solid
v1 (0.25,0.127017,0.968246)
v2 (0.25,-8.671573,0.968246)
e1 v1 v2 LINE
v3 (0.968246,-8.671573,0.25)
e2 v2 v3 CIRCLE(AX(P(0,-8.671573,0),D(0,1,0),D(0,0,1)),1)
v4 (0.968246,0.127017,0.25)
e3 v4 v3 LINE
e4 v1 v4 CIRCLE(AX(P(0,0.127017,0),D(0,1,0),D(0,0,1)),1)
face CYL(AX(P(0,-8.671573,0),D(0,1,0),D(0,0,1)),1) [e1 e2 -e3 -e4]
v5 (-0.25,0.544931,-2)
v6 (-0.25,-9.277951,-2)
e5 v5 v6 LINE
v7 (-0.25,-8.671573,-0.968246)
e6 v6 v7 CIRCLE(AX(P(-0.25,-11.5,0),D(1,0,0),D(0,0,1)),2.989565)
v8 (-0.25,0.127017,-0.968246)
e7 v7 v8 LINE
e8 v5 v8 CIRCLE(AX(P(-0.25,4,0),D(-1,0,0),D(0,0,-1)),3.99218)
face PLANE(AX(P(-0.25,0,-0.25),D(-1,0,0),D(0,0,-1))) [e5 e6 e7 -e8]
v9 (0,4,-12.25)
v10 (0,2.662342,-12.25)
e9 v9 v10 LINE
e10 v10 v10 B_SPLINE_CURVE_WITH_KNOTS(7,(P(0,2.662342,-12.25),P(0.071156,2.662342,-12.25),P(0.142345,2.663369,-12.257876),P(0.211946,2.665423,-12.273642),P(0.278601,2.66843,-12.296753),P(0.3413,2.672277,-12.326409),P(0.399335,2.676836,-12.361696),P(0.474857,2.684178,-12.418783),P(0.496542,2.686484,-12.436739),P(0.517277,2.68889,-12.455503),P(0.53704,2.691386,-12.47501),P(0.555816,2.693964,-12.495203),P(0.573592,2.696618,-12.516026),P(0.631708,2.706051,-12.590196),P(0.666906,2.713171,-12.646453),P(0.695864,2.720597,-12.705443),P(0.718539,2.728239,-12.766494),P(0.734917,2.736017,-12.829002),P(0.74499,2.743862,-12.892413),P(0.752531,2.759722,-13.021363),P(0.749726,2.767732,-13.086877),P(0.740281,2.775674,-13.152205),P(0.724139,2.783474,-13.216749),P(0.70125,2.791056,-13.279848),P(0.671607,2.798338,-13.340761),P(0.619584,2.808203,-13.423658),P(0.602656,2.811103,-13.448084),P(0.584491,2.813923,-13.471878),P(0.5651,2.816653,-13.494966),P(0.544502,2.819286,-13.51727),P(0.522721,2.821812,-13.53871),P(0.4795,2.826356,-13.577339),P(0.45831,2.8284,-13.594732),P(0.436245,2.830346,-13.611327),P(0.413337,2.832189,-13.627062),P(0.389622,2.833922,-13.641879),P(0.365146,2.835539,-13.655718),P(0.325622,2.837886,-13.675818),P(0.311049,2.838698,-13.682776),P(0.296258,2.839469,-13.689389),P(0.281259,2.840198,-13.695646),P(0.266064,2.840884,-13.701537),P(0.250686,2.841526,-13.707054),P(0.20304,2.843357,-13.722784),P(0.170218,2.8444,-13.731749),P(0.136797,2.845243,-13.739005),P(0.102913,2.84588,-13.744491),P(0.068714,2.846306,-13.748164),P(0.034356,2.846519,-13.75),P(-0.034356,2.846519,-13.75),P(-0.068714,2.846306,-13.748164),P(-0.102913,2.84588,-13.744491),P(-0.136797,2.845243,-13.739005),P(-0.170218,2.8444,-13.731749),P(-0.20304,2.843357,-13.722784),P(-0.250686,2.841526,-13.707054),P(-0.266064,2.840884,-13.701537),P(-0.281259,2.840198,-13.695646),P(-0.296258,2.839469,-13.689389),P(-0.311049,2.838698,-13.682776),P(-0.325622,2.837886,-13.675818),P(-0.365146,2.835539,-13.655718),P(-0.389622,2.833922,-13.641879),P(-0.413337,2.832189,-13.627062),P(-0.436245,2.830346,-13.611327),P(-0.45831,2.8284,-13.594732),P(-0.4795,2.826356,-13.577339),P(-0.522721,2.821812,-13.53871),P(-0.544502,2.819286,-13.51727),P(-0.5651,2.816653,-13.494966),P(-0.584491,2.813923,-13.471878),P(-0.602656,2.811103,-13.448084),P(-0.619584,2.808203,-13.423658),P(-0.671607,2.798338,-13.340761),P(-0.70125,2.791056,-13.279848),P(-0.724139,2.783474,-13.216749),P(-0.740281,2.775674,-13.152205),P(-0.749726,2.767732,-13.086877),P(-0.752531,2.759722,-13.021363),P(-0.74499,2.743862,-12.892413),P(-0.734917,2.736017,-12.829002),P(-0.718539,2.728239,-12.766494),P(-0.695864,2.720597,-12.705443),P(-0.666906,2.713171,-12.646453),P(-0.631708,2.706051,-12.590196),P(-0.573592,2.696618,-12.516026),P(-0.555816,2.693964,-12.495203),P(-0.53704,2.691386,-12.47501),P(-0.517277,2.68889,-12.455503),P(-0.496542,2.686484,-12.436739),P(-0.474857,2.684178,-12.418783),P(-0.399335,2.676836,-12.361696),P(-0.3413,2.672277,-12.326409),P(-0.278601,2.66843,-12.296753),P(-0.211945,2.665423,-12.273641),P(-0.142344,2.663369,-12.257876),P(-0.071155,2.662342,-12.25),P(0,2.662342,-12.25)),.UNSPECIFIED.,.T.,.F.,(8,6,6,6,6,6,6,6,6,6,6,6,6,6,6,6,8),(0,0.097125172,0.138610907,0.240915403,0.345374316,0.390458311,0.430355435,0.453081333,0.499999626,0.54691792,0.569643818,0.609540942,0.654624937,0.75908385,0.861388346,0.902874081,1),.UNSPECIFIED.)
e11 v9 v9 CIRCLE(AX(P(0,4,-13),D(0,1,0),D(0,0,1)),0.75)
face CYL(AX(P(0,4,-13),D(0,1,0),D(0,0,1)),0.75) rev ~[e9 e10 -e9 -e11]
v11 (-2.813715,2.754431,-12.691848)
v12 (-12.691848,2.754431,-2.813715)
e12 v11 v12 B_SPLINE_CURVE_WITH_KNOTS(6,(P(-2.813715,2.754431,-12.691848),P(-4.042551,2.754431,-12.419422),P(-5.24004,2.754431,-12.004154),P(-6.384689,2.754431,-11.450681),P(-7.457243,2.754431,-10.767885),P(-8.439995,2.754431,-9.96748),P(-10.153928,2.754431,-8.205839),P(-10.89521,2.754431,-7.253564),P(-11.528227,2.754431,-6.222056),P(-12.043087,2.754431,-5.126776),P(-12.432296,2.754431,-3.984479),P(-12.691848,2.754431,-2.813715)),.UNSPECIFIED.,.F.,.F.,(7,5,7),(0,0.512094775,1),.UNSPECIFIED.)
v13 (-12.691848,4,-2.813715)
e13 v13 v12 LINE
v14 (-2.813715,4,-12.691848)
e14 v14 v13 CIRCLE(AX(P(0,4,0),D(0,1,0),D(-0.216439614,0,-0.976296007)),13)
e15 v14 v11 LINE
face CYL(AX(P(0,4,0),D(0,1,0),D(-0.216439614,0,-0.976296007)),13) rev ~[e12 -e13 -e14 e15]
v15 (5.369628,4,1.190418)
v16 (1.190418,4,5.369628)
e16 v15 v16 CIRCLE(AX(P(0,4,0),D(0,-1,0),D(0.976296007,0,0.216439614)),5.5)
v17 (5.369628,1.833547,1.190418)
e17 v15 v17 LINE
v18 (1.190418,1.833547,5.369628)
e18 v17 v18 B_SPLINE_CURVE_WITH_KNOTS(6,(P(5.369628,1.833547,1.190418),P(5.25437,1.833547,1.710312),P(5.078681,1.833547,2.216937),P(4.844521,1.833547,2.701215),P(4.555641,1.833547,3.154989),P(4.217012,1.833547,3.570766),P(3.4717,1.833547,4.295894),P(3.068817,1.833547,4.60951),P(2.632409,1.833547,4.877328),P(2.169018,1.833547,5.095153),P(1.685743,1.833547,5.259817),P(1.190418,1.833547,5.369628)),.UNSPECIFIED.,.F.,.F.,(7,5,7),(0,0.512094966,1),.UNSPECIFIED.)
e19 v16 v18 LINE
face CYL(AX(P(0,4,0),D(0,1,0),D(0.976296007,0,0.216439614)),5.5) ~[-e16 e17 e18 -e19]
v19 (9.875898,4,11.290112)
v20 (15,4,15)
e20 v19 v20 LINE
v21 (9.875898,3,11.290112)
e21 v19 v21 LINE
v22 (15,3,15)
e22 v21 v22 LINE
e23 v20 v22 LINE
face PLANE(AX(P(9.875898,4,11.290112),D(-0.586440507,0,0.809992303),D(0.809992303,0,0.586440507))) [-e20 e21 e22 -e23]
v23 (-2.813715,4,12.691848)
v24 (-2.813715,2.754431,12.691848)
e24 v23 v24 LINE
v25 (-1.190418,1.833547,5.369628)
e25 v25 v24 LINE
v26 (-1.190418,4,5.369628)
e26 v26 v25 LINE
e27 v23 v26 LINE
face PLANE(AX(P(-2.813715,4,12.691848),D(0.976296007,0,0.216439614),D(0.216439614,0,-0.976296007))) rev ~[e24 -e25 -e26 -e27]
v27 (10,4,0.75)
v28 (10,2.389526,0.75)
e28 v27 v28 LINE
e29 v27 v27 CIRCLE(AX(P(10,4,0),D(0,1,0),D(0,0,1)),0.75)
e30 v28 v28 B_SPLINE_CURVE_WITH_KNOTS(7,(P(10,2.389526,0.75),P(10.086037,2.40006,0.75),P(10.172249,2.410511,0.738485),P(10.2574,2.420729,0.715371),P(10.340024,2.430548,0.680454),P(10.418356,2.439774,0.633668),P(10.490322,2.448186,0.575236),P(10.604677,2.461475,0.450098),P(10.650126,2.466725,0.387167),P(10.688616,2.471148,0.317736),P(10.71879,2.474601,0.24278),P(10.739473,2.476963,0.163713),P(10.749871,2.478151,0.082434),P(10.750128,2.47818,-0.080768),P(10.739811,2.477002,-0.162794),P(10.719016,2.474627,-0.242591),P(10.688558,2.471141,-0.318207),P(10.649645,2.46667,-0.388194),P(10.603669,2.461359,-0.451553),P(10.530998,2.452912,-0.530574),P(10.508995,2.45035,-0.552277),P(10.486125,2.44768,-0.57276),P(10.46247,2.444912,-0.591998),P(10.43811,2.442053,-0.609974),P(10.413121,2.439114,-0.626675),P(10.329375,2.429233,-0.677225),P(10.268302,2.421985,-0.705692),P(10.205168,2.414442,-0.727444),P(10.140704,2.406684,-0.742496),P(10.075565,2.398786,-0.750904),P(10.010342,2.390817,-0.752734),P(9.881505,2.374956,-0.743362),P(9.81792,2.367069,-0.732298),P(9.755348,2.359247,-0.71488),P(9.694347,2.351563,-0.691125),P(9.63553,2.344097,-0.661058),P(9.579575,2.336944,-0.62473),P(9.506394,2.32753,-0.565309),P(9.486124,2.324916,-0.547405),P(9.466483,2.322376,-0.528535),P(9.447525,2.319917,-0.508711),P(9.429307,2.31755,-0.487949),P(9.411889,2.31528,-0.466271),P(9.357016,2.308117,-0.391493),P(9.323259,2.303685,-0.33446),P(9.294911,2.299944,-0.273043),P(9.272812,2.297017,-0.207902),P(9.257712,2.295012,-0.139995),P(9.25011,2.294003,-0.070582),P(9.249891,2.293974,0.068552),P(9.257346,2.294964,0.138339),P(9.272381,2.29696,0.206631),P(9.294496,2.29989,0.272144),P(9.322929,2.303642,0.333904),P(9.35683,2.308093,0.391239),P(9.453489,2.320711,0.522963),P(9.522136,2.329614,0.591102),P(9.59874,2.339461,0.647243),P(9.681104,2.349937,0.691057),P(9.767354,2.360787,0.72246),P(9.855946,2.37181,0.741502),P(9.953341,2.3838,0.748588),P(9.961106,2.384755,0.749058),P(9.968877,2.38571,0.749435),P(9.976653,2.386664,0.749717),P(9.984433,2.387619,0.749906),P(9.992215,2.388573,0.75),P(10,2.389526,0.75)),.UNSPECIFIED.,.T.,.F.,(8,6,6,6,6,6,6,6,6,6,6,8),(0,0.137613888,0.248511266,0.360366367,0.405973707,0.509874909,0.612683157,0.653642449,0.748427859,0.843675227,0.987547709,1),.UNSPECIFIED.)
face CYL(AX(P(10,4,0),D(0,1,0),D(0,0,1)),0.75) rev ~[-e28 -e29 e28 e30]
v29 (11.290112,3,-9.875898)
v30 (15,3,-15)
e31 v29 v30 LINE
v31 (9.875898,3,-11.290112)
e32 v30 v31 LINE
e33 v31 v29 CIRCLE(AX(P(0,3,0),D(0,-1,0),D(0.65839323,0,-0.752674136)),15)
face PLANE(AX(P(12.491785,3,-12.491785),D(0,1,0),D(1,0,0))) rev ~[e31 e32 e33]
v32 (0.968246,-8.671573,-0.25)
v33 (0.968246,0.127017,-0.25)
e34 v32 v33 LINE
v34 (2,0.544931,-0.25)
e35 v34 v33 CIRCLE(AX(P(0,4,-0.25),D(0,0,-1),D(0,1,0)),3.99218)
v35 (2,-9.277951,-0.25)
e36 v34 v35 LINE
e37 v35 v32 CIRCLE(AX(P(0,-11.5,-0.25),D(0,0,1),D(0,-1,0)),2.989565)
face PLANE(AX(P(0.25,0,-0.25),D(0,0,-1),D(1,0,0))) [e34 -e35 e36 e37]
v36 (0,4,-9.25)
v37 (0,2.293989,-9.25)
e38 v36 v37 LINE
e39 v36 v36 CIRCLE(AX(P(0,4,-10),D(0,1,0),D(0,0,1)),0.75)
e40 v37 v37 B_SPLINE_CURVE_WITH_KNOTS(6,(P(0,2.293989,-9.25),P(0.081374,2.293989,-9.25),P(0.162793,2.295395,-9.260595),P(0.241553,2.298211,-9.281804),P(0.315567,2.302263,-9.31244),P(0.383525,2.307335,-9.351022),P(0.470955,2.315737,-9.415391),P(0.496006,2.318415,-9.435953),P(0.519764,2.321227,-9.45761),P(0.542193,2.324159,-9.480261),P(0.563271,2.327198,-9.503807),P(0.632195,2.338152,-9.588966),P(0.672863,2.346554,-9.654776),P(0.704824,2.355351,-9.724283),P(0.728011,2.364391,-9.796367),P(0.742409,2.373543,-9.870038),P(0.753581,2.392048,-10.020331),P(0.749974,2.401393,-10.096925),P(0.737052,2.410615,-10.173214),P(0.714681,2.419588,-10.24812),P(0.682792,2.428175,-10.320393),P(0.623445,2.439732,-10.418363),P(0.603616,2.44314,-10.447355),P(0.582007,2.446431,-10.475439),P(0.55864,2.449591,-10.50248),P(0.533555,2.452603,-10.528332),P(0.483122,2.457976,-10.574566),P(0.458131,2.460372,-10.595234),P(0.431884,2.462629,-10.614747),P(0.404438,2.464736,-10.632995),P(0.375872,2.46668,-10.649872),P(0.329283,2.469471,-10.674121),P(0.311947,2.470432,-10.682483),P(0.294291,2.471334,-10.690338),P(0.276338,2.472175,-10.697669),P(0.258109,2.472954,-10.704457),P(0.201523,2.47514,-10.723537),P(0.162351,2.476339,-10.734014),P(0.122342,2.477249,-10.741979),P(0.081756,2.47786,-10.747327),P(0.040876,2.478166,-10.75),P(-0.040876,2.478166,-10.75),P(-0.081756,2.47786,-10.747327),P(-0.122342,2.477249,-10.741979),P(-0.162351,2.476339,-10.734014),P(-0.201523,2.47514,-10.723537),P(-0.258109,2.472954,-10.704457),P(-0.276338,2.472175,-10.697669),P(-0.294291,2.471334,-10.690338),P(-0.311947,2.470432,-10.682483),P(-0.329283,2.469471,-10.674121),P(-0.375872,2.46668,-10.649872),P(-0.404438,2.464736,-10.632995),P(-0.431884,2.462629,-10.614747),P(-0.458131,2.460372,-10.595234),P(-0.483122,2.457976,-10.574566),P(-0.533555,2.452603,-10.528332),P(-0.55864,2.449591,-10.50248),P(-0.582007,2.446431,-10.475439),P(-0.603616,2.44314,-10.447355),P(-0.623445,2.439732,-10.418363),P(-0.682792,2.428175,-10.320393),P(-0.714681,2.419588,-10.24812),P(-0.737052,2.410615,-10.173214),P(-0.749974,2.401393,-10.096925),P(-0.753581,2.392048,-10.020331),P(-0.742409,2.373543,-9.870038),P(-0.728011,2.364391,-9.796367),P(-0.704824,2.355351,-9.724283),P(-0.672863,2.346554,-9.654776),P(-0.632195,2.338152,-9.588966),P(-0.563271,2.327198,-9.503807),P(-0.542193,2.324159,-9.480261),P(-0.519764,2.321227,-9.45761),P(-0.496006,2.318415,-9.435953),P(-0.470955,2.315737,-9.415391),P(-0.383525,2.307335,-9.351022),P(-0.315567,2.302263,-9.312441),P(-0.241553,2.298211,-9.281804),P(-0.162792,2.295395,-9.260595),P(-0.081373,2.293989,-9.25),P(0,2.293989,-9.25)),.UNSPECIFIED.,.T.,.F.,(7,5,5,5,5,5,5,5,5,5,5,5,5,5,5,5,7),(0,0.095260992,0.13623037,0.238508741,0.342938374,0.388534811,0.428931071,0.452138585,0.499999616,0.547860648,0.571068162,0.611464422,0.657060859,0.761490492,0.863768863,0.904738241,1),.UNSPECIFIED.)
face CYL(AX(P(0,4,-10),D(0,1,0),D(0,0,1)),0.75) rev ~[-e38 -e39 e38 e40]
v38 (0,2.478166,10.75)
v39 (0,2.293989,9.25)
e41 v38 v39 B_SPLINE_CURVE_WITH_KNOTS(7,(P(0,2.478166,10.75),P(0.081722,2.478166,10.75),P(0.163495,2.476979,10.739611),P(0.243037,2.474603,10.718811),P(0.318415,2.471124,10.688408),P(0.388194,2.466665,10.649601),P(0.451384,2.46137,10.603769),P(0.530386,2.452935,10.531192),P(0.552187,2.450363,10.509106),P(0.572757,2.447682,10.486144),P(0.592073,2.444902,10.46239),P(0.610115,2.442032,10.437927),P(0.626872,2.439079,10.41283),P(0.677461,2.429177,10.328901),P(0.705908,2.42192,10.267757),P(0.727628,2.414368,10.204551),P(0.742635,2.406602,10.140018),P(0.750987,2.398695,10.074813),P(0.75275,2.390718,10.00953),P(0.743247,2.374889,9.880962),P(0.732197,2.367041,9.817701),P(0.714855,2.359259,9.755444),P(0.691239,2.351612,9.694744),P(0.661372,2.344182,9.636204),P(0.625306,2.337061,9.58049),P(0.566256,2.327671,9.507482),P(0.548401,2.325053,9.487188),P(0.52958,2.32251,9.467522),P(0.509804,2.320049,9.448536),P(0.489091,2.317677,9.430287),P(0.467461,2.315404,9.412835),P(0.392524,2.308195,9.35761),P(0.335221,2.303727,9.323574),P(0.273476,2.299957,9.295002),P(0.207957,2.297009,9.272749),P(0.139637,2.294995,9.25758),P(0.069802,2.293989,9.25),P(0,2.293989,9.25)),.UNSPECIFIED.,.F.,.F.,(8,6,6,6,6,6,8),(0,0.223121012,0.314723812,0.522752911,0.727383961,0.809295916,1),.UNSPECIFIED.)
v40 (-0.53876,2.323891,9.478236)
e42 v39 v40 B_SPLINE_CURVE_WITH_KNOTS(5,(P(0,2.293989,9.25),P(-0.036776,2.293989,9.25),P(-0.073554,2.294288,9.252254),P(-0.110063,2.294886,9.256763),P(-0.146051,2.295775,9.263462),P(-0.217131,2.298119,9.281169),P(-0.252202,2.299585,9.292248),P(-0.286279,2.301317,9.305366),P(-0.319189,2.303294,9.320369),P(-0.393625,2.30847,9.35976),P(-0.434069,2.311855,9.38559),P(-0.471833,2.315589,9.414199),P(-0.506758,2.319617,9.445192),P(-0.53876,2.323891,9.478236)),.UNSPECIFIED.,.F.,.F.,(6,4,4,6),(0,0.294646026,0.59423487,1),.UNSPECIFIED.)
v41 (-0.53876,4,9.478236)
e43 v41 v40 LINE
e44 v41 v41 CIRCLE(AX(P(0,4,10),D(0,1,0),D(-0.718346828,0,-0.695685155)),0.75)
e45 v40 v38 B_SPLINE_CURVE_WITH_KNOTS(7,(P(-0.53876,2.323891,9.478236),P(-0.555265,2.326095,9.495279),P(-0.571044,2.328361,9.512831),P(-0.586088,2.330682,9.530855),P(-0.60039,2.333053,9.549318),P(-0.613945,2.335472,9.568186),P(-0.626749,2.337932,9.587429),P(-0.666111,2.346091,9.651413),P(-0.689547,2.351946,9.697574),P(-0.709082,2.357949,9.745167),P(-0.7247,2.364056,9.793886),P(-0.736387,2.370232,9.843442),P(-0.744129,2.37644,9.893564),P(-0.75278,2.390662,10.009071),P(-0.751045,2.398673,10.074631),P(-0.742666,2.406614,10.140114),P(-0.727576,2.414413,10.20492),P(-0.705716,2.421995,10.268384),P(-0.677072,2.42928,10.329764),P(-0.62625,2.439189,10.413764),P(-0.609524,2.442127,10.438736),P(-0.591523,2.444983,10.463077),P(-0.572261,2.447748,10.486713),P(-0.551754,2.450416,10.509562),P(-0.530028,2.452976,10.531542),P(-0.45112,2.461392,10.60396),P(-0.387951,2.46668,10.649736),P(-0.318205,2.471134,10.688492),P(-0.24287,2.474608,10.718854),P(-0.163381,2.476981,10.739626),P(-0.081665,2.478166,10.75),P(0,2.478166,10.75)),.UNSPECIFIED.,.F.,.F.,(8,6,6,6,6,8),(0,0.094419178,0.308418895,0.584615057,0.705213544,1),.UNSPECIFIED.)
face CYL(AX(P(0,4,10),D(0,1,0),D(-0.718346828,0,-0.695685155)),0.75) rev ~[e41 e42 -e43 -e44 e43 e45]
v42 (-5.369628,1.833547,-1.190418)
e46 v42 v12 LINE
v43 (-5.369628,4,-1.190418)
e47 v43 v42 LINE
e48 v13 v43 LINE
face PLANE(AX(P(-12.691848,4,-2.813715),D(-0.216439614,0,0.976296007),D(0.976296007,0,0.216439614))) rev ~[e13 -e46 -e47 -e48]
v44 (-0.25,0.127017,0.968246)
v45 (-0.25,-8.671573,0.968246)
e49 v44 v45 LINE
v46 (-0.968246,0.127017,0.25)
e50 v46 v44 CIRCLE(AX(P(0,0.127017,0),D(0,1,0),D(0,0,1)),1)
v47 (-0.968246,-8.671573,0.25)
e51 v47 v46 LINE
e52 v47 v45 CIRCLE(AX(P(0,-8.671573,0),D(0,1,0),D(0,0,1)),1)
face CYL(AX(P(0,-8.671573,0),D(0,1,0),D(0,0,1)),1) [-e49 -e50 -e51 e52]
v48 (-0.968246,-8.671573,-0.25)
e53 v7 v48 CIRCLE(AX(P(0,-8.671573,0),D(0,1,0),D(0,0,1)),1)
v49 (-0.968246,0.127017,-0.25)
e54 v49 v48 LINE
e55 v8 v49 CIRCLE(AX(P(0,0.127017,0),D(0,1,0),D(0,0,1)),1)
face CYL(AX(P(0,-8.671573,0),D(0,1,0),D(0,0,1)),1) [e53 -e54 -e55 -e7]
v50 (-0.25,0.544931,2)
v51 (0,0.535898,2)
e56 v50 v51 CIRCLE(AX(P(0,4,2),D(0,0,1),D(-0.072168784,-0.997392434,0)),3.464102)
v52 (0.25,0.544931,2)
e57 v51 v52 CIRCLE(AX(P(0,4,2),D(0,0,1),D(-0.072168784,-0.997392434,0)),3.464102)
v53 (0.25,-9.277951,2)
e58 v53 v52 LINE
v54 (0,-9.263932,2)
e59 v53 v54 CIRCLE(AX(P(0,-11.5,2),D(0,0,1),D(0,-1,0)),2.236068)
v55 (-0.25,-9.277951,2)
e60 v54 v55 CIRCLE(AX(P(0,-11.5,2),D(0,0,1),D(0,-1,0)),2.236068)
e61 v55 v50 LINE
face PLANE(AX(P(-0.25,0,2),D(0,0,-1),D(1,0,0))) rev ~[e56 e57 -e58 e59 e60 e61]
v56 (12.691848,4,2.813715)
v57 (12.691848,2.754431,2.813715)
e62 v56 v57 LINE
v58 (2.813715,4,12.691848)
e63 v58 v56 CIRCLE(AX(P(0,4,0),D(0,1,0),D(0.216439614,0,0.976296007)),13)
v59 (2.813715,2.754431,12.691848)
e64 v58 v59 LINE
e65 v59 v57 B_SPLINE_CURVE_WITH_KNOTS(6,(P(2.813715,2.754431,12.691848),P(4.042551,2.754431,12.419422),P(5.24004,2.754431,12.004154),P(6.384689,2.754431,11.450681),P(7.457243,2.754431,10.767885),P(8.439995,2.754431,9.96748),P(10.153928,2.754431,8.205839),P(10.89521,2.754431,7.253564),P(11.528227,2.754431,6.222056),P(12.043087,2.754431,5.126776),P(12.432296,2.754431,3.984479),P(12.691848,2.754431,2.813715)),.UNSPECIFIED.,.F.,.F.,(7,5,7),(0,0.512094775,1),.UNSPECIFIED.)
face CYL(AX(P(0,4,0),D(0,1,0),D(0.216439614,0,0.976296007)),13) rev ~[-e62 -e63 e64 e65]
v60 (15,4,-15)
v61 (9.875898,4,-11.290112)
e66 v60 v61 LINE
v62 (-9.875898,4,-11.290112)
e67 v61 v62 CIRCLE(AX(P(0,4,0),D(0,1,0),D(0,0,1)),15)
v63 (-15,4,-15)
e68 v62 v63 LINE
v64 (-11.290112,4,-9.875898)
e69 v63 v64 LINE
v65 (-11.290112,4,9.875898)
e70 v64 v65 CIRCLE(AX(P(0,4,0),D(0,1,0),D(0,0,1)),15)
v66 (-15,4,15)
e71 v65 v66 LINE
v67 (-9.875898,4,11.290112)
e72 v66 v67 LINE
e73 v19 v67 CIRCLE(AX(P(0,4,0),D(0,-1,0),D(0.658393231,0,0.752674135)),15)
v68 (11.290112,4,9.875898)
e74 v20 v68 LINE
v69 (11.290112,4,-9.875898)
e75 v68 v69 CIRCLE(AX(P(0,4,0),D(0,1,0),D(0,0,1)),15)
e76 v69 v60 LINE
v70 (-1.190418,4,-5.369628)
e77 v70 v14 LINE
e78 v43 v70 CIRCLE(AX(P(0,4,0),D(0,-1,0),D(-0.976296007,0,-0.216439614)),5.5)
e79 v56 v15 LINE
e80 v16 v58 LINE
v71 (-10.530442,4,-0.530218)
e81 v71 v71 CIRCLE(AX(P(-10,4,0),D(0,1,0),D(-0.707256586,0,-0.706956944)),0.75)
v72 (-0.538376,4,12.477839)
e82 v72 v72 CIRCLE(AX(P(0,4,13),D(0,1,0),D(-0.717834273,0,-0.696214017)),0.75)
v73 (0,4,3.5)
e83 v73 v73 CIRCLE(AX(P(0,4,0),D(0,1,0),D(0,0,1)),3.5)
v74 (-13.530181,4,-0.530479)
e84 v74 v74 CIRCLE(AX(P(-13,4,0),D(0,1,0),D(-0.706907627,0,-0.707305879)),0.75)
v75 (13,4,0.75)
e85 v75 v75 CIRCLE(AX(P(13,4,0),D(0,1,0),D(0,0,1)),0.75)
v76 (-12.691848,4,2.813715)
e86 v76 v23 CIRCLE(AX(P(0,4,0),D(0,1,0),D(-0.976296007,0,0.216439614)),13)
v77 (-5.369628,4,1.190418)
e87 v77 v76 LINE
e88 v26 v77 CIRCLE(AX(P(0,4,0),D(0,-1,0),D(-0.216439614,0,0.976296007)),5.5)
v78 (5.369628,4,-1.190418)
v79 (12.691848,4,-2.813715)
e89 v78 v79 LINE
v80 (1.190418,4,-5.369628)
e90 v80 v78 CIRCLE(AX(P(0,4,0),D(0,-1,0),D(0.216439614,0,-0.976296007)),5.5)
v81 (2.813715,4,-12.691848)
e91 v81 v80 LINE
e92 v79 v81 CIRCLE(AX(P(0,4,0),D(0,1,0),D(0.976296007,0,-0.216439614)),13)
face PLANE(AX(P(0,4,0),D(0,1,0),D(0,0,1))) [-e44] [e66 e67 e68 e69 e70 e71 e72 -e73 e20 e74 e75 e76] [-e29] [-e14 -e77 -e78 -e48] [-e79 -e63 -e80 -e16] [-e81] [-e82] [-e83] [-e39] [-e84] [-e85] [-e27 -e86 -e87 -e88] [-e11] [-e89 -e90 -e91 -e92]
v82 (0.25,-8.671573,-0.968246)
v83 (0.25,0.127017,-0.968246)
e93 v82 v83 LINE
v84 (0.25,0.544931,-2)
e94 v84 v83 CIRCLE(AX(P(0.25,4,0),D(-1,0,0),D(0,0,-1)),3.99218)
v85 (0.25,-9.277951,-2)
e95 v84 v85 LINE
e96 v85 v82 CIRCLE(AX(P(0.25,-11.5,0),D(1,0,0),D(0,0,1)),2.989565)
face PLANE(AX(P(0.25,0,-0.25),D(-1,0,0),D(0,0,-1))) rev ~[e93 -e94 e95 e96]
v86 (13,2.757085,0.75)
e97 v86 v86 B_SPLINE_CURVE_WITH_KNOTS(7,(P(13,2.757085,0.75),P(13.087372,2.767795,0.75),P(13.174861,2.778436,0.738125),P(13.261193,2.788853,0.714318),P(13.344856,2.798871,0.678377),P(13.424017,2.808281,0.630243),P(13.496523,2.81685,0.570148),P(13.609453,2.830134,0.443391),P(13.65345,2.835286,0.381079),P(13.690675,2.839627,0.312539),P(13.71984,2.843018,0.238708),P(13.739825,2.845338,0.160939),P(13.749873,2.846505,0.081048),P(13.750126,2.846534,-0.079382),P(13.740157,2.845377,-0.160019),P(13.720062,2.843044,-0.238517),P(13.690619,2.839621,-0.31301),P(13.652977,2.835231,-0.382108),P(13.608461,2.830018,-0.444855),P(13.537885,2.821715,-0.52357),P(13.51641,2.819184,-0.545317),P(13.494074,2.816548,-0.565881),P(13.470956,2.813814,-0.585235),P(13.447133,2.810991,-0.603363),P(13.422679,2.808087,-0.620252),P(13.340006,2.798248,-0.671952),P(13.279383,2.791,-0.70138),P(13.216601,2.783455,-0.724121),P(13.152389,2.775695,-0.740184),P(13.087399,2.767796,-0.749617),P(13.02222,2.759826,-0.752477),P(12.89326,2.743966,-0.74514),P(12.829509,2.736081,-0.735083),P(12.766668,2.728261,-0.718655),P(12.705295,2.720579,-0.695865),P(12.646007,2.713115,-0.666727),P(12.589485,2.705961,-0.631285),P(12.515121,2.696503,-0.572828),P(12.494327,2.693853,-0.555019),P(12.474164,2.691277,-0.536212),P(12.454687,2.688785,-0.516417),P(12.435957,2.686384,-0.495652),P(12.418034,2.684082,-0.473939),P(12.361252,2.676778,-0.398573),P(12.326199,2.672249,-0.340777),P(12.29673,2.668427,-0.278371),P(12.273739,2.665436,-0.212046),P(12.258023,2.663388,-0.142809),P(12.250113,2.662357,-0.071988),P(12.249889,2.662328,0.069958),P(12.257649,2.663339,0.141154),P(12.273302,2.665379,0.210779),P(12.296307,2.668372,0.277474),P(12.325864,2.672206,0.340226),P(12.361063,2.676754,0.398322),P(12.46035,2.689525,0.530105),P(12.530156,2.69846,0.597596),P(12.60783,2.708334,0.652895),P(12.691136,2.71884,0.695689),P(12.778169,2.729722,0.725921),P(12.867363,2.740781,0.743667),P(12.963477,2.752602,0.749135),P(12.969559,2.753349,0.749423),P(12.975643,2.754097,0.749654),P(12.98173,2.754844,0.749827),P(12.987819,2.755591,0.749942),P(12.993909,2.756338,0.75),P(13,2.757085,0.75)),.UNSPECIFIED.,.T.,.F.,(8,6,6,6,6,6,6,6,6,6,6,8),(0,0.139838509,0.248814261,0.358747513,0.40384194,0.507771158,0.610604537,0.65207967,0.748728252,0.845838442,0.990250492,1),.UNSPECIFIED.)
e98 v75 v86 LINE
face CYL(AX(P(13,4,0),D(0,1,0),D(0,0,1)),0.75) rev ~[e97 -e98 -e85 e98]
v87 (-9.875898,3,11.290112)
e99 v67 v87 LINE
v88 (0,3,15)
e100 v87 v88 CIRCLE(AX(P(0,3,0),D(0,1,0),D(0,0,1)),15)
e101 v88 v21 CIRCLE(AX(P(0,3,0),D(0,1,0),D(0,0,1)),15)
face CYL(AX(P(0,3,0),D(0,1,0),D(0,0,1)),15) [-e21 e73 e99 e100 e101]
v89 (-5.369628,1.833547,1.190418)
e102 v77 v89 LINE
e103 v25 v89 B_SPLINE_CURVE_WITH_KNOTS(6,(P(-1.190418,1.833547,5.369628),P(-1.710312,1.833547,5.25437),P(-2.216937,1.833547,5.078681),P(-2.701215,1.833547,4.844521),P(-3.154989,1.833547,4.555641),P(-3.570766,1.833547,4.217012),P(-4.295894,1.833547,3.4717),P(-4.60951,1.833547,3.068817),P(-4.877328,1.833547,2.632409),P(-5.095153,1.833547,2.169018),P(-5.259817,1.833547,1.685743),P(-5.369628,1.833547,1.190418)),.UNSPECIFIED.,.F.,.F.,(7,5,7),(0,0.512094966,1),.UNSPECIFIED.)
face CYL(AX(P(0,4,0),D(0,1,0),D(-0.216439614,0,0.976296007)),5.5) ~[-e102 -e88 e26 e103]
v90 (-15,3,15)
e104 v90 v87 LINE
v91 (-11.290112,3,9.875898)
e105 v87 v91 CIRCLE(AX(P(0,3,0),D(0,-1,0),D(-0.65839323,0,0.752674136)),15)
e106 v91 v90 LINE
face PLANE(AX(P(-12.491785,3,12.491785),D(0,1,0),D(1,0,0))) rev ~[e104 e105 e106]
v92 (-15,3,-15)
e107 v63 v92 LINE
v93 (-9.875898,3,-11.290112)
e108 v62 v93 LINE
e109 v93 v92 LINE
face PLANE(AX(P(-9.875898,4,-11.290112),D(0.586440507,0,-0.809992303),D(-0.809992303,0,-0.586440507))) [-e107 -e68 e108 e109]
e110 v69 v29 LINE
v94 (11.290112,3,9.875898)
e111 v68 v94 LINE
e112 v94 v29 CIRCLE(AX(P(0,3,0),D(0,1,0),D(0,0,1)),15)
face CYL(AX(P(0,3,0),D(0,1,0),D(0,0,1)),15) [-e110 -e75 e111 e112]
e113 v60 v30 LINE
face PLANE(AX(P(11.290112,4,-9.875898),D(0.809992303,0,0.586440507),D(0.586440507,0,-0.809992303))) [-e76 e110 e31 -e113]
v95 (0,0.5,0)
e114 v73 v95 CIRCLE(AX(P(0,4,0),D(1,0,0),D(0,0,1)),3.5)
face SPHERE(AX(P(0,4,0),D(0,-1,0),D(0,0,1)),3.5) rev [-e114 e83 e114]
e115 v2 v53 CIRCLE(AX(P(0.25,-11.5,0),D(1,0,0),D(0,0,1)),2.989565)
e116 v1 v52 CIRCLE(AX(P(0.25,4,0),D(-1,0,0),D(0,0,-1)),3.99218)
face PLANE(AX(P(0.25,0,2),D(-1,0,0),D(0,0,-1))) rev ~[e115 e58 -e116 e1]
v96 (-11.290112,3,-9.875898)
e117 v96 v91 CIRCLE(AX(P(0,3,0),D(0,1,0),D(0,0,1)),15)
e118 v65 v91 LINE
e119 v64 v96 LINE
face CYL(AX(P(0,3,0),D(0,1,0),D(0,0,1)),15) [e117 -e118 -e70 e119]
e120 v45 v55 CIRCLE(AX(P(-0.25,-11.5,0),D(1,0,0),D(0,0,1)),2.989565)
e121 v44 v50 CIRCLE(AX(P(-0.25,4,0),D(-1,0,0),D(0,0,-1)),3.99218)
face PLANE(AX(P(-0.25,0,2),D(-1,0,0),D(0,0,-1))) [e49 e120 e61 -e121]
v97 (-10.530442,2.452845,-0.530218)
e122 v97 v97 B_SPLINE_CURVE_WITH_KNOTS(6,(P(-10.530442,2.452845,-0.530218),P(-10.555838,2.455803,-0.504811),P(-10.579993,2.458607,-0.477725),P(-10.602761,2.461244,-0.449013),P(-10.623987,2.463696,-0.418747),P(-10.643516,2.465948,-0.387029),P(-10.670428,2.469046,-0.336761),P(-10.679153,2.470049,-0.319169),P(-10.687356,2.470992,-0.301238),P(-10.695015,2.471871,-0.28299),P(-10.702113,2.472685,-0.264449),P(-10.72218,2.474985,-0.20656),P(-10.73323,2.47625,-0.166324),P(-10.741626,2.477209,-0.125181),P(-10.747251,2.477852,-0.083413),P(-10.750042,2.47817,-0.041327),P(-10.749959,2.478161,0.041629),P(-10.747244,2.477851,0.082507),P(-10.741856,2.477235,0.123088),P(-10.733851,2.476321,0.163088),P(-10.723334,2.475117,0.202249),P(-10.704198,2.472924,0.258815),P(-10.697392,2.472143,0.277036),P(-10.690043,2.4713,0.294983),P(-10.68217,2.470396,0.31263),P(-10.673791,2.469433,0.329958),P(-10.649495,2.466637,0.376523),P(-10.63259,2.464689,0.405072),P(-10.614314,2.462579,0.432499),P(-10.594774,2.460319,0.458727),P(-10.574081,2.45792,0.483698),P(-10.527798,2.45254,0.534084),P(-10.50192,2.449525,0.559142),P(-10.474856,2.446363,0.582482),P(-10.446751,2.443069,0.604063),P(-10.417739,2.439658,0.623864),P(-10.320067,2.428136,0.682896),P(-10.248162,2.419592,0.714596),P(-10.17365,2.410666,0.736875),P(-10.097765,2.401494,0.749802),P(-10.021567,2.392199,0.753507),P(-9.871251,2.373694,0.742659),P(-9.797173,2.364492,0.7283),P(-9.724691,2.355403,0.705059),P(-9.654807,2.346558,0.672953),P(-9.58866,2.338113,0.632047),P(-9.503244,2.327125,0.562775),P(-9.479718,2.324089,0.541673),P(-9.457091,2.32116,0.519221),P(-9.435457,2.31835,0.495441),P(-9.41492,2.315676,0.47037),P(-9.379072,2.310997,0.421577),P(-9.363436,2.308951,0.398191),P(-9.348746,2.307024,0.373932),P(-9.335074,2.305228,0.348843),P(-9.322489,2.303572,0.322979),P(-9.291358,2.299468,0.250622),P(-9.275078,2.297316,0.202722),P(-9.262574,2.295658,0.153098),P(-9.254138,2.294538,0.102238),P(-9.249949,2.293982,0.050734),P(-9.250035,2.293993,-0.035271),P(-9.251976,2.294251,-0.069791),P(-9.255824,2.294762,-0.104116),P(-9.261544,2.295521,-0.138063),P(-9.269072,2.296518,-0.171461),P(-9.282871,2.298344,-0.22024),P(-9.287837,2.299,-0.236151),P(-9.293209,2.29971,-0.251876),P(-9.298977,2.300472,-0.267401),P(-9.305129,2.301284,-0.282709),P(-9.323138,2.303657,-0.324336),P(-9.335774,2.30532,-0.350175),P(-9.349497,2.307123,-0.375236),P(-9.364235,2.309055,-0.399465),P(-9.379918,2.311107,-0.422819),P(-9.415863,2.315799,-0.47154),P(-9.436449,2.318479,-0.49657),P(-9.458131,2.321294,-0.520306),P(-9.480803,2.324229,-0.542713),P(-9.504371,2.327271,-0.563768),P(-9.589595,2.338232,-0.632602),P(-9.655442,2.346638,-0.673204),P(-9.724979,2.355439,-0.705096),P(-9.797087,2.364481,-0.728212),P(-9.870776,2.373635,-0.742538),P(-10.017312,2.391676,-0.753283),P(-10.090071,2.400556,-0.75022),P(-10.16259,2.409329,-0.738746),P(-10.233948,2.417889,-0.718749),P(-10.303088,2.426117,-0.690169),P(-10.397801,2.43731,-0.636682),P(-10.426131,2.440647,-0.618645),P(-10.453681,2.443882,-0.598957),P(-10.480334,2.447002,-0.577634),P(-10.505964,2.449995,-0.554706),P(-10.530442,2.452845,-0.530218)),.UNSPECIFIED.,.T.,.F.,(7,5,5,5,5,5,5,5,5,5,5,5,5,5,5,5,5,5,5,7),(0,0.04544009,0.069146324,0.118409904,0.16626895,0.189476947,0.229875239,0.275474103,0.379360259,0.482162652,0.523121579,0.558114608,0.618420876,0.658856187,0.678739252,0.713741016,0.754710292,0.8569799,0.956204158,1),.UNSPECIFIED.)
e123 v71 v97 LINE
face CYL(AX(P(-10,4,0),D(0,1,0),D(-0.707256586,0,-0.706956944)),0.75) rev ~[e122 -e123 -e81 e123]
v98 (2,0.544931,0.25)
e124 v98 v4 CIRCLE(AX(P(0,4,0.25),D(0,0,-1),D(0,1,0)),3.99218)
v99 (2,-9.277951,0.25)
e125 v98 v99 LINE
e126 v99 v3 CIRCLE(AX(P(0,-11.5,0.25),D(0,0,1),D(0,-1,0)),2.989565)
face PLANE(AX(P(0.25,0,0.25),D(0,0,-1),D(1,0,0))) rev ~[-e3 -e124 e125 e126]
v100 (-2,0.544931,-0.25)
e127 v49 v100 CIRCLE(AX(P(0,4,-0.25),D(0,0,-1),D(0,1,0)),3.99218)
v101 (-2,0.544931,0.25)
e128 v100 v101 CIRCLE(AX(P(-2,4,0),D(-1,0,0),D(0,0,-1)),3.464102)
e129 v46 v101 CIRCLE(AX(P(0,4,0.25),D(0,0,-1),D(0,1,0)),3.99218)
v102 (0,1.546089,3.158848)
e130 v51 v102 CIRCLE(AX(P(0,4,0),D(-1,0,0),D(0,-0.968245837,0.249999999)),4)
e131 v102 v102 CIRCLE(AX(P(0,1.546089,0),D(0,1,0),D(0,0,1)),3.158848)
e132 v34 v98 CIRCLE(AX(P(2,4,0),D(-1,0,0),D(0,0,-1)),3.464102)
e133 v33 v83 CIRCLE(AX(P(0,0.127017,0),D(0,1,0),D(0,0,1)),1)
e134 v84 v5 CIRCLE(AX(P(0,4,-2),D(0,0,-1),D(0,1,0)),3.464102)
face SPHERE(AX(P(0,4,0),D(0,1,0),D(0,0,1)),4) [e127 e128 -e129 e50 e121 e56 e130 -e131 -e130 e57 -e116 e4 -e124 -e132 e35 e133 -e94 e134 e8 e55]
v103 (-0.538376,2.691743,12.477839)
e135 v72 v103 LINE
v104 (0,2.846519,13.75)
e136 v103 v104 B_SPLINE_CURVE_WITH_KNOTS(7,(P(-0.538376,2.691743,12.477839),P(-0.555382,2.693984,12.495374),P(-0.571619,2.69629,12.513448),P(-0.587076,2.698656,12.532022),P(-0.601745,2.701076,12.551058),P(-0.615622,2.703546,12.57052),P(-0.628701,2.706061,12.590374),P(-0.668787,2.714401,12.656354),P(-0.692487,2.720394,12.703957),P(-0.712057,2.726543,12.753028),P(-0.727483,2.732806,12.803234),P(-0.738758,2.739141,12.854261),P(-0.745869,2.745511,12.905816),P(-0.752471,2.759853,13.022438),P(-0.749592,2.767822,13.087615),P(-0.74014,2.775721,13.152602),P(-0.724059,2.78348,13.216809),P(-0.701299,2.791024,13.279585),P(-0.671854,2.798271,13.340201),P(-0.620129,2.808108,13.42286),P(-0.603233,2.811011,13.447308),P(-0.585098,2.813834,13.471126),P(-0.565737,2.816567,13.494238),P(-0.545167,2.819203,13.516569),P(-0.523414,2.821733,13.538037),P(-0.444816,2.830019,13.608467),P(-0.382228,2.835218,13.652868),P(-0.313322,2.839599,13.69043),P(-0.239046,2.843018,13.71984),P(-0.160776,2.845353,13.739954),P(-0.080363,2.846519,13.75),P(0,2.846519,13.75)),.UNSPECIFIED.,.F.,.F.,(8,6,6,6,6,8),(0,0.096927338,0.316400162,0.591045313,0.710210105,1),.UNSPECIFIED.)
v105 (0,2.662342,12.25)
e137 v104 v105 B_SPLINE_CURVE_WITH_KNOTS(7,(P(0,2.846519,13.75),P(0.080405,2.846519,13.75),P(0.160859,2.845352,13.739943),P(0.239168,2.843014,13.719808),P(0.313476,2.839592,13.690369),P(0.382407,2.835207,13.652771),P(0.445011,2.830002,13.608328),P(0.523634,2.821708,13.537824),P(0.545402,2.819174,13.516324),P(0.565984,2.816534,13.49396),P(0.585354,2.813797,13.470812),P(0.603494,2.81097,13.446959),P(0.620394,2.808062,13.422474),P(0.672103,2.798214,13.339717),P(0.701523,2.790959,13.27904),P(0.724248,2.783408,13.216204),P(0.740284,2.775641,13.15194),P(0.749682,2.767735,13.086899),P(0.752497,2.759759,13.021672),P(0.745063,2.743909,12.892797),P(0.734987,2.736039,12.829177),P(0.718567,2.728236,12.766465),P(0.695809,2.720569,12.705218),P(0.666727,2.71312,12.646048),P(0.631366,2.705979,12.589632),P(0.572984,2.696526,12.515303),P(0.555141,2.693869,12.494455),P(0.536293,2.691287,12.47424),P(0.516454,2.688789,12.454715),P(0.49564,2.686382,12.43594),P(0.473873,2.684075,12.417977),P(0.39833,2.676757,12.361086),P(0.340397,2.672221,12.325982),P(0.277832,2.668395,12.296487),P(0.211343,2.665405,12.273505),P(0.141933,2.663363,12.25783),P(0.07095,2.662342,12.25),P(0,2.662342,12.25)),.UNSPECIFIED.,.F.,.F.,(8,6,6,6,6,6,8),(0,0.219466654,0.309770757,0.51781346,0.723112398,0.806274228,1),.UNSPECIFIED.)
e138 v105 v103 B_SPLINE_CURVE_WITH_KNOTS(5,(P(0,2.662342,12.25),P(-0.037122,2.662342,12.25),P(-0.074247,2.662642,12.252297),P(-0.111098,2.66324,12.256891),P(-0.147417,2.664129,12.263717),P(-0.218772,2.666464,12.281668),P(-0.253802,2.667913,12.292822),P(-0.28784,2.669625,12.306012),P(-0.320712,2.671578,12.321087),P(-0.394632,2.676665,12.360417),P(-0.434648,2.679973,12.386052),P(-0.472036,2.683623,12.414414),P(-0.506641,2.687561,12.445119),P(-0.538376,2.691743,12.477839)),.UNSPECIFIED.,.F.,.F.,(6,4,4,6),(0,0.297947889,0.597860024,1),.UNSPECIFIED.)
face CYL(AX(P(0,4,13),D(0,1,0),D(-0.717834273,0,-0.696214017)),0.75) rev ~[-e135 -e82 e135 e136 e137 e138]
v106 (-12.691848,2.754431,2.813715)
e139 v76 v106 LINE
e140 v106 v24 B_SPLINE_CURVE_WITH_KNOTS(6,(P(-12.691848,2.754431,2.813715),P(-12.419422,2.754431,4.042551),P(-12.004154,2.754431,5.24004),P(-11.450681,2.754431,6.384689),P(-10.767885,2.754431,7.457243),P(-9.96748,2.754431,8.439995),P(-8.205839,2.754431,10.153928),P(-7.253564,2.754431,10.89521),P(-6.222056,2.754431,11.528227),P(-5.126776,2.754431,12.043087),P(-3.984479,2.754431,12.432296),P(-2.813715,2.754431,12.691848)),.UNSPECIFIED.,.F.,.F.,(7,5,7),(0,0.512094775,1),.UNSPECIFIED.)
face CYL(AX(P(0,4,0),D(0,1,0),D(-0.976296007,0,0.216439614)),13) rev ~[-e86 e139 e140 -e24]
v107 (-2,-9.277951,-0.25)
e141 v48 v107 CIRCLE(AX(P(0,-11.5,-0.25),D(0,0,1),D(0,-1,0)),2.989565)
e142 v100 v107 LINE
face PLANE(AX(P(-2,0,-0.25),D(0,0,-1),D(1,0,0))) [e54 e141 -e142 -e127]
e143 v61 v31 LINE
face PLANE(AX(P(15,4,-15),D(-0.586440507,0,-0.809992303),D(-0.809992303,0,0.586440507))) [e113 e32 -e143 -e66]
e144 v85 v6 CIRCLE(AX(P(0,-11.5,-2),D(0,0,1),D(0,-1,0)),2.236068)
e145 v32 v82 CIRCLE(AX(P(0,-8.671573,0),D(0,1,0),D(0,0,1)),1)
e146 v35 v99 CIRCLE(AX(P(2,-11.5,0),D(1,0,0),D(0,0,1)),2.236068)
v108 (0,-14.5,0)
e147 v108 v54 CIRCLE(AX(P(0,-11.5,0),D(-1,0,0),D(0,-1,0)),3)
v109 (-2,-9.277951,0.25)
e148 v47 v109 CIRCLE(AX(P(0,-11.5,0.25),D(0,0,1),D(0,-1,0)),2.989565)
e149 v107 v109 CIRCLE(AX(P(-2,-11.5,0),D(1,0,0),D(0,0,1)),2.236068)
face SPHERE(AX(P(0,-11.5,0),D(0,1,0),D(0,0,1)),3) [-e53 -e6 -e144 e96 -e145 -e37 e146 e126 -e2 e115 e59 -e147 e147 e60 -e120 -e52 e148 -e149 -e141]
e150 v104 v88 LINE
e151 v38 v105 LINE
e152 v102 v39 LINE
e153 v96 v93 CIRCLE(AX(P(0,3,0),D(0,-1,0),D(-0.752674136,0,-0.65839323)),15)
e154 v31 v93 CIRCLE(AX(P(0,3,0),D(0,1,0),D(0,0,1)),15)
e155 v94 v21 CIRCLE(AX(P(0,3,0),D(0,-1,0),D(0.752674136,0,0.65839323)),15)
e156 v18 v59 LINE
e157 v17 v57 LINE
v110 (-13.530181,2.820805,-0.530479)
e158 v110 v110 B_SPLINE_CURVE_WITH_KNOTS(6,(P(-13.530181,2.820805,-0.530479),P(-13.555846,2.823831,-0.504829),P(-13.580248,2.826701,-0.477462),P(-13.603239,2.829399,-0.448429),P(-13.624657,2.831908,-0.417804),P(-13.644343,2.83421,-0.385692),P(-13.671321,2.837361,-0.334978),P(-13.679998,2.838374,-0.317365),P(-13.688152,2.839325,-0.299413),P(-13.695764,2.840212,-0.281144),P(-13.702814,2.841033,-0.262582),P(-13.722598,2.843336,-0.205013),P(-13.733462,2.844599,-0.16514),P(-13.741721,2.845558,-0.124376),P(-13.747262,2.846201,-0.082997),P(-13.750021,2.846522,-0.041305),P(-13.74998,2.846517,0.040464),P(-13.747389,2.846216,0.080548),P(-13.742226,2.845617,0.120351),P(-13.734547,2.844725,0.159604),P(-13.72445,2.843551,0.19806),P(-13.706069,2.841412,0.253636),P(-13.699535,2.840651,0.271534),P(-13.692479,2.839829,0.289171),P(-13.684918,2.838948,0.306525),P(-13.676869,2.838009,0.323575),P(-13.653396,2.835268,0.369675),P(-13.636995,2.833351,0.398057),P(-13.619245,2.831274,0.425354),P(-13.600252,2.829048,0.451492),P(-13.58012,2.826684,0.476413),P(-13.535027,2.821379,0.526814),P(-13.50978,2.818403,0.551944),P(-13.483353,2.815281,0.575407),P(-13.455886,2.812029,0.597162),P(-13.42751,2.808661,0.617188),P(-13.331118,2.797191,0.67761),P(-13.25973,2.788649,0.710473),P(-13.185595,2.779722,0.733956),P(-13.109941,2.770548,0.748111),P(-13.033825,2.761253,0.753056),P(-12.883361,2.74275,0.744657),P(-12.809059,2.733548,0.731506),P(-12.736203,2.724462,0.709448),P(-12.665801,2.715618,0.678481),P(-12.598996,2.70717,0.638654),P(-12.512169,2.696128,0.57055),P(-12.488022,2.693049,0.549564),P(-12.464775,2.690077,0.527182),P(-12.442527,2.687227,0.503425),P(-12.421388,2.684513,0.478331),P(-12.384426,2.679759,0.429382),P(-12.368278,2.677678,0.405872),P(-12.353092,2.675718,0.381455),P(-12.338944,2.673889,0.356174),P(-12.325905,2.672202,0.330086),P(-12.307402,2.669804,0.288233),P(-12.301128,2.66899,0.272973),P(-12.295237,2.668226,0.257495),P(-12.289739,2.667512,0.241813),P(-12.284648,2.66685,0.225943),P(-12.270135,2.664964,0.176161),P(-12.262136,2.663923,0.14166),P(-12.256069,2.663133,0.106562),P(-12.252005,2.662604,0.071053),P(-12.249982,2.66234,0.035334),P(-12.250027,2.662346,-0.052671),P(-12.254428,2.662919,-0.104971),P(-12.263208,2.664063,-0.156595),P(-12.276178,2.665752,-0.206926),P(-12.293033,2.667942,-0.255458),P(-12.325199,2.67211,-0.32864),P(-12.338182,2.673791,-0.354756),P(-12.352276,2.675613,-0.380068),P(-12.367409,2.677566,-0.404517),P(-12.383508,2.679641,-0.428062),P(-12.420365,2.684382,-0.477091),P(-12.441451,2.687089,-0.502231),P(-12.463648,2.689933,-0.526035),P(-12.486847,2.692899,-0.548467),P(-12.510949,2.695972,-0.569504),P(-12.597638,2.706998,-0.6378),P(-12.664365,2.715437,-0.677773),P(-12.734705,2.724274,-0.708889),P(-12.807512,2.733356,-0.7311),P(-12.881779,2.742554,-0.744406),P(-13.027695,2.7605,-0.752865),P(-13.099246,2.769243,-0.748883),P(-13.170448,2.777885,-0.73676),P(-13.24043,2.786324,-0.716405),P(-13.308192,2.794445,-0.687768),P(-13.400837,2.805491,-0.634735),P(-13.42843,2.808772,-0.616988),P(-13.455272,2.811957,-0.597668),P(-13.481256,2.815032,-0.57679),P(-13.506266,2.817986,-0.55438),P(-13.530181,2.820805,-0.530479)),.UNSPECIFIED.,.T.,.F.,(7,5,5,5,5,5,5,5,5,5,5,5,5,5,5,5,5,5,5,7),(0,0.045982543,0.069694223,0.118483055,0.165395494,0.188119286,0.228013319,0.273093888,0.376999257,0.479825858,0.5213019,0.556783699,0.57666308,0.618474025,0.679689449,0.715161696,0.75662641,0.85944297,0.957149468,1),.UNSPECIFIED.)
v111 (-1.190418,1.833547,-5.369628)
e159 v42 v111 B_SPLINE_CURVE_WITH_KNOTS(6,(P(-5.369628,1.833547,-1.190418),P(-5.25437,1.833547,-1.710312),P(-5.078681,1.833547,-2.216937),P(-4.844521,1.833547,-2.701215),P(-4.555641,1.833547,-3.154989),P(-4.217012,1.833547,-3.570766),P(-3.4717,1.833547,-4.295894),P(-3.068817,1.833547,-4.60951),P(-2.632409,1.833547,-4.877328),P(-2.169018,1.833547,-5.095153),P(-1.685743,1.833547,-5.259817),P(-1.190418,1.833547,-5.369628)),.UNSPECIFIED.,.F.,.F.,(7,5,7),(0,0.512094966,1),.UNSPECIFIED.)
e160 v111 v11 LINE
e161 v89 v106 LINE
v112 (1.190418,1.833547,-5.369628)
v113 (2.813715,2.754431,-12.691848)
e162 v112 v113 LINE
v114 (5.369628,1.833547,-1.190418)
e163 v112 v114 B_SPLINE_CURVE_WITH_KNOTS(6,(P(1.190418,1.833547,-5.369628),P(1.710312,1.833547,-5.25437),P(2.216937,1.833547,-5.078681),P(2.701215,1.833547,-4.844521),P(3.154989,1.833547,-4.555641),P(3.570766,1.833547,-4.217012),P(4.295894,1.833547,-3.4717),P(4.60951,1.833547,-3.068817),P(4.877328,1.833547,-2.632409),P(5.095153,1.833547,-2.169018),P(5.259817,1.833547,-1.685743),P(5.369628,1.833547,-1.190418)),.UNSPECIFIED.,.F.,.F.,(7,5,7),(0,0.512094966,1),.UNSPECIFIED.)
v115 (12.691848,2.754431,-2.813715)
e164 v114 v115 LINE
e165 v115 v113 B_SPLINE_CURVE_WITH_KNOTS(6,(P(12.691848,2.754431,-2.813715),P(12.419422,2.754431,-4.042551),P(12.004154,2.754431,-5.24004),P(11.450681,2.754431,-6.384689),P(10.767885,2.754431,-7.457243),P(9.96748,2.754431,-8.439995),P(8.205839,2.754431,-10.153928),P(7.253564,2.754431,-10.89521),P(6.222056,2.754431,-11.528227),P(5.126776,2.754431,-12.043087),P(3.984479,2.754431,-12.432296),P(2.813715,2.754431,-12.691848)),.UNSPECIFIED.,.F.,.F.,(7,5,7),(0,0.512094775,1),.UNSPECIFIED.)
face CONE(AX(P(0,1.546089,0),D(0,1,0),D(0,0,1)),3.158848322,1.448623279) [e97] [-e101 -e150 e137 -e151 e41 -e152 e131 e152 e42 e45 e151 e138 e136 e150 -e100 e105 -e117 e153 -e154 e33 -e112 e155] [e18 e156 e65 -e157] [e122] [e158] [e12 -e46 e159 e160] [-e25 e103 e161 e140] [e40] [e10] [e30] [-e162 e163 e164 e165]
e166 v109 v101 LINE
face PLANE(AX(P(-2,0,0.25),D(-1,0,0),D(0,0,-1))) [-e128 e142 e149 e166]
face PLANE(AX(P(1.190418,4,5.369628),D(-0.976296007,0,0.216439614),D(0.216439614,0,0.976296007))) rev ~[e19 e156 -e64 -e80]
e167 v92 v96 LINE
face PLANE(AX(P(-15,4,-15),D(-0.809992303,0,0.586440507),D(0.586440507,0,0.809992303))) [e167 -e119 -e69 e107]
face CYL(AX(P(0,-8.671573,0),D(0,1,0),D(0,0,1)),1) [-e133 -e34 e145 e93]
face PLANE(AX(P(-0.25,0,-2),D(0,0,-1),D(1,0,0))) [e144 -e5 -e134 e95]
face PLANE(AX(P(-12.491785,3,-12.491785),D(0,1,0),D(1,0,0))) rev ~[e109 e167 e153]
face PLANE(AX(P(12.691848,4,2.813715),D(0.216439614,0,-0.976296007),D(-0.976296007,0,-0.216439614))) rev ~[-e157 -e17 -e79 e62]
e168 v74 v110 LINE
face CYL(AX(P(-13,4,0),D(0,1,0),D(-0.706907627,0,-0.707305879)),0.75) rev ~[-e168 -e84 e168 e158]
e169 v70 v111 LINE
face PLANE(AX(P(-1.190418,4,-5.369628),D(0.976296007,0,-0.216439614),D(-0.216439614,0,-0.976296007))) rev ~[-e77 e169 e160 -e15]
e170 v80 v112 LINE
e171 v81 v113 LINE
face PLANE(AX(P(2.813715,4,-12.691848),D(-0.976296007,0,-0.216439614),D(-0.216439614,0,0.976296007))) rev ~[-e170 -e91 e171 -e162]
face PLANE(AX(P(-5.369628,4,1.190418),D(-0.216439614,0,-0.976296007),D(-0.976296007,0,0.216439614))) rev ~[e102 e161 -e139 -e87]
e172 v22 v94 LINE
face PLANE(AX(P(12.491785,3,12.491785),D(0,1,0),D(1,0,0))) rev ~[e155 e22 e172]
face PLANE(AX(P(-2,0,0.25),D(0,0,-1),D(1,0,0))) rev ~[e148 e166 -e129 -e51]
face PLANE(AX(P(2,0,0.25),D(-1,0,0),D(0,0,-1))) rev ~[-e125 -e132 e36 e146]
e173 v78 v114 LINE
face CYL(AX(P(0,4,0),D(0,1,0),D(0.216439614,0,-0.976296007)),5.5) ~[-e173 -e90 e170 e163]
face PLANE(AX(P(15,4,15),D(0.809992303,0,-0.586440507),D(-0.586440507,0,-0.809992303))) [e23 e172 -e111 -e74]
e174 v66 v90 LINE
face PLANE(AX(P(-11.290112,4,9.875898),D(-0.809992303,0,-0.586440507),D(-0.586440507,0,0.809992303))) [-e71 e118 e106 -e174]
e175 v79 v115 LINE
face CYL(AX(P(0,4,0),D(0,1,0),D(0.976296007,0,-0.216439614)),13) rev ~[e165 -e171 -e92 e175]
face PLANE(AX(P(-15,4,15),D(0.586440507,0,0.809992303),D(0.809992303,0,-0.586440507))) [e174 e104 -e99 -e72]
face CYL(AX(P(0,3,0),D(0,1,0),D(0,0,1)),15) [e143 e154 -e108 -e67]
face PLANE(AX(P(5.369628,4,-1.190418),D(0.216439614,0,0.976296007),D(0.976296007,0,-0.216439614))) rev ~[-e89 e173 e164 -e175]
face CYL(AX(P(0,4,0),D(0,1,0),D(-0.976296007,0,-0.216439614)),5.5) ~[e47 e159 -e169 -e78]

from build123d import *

# Parameters (mm, degrees)
SKETCH3_W                       = 0.5
SKETCH3_H                       = 1.75
SKETCH3_W_2                     = 1.75
SKETCH3_H_2                     = 0.5
BOSS_EXTRUDE1_DEPTH             = 13
BOSS_EXTRUDE1_DIRECTION_2_REACH = 27.695
SKETCH4_R                       = 0.75
CUT_EXTRUDE2_DEPTH              = 4
BOSS_EXTRUDE2_DEPTH             = 1


with BuildPart() as part:
    # Sketch1 → Revolve1 (revolve)
    with BuildSketch(Plane(origin=(0, 0, 0), x_dir=(0, 0, -1), z_dir=(1, 0, 0))):
        with BuildLine():
            ThreePointArc((-3.5, 4), (-2.474873734, 1.525126266), (0, 0.5))
            Line((0, 0.5), (0, 0))
            Line((0, 0), (0, -8.5))
            Line((0, -8.5), (0, -14.5))
            ThreePointArc((0, -14.5), (-2.956795679, -12.007305936), (-1, -8.671572875))
            Line((-1, -8.671572875), (-1, 0.127016654))
            ThreePointArc((-1, 0.127016654), (-2.197145125, 0.657463044), (-3.158848322, 1.546089391))
            Line((-3.158848322, 1.546089391), (-15, 3))
            Line((-15, 3), (-15, 4))
            Line((-15, 4), (-4, 4))
            Line((-4, 4), (-3.5, 4))
        make_face()
    revolve(axis=Axis((0, 10.634252877, 0), (0, 1, 0)))

    # Sketch3 → Boss-Extrude1 (add)
    with BuildSketch(Plane(origin=(0, 0, 0), x_dir=(1, 0, 0), z_dir=(0, 1, 0))):
        with Locations((0, 1.125)):
            Rectangle(SKETCH3_W, SKETCH3_H)
        with Locations((-1.125, 0)):
            Rectangle(SKETCH3_W_2, SKETCH3_H_2)
        with Locations((1.125, 0)):
            Rectangle(SKETCH3_W_2, SKETCH3_H_2)
        with Locations((0, -1.125)):
            Rectangle(SKETCH3_W, SKETCH3_H)
    extrude(amount=-BOSS_EXTRUDE1_DEPTH)

    # Sketch3 → Boss-Extrude1 direction 2 (add, up to next)
    with BuildSketch(Plane(origin=(0, 0, 0), x_dir=(1, 0, 0), z_dir=(0, 1, 0)), mode=Mode.PRIVATE) as boss_extrude1_direction_2_sk1:
        with Locations((0, 1.125)):
            Rectangle(SKETCH3_W, SKETCH3_H)
    boss_extrude1_direction_2_tool1 = extrude(boss_extrude1_direction_2_sk1.sketch, amount=BOSS_EXTRUDE1_DIRECTION_2_REACH, mode=Mode.PRIVATE) - part.part
    # Sketch3 → Boss-Extrude1 direction 2 (add, up to next)
    with BuildSketch(Plane(origin=(0, 0, 0), x_dir=(1, 0, 0), z_dir=(0, 1, 0)), mode=Mode.PRIVATE) as boss_extrude1_direction_2_sk2:
        with Locations((-1.125, 0)):
            Rectangle(SKETCH3_W_2, SKETCH3_H_2)
    boss_extrude1_direction_2_tool2 = extrude(boss_extrude1_direction_2_sk2.sketch, amount=BOSS_EXTRUDE1_DIRECTION_2_REACH, mode=Mode.PRIVATE) - part.part
    # Sketch3 → Boss-Extrude1 direction 2 (add, up to next)
    with BuildSketch(Plane(origin=(0, 0, 0), x_dir=(1, 0, 0), z_dir=(0, 1, 0)), mode=Mode.PRIVATE) as boss_extrude1_direction_2_sk3:
        with Locations((1.125, 0)):
            Rectangle(SKETCH3_W_2, SKETCH3_H_2)
    boss_extrude1_direction_2_tool3 = extrude(boss_extrude1_direction_2_sk3.sketch, amount=BOSS_EXTRUDE1_DIRECTION_2_REACH, mode=Mode.PRIVATE) - part.part
    # Sketch3 → Boss-Extrude1 direction 2 (add, up to next)
    with BuildSketch(Plane(origin=(0, 0, 0), x_dir=(1, 0, 0), z_dir=(0, 1, 0)), mode=Mode.PRIVATE) as boss_extrude1_direction_2_sk4:
        with Locations((0, -1.125)):
            Rectangle(SKETCH3_W, SKETCH3_H)
    boss_extrude1_direction_2_tool4 = extrude(boss_extrude1_direction_2_sk4.sketch, amount=BOSS_EXTRUDE1_DIRECTION_2_REACH, mode=Mode.PRIVATE) - part.part
    add(boss_extrude1_direction_2_tool1.solids().sort_by_distance((0, 0, -1.125))[0])
    add(boss_extrude1_direction_2_tool2.solids().sort_by_distance((-1.125, 0, 0))[0])
    add(boss_extrude1_direction_2_tool3.solids().sort_by_distance((1.125, 0, 0))[0])
    add(boss_extrude1_direction_2_tool4.solids().sort_by_distance((0, 0, 1.125))[0])

    # Sketch4 → Cut-Extrude2 (cut)
    with BuildSketch(Plane(origin=(0, 4, 0), x_dir=(1, 0, 0), z_dir=(0, 1, 0))):
        with BuildLine():
            Line((-1.190417877, 5.369628039), (-2.813714981, 12.691848093))
            ThreePointArc((-2.813714981, 12.691848093), (-9.192388155, 9.192388155), (-12.691848093, 2.813714981))
            Line((-12.691848093, 2.813714981), (-5.369628039, 1.190417877))
            ThreePointArc((-5.369628039, 1.190417877), (-3.889087297, 3.889087297), (-1.190417877, 5.369628039))
        make_face()
        with BuildLine():
            Line((-5.369628039, -1.190417877), (-12.691848093, -2.813714981))
            ThreePointArc((-12.691848093, -2.813714981), (-9.192388155, -9.192388155), (-2.813714981, -12.691848093))
            Line((-2.813714981, -12.691848093), (-1.190417877, -5.369628039))
            ThreePointArc((-1.190417877, -5.369628039), (-3.889087297, -3.889087297), (-5.369628039, -1.190417877))
        make_face()
        with BuildLine():
            ThreePointArc((2.813714981, -12.691848093), (9.192388155, -9.192388155), (12.691848093, -2.813714981))
            Line((12.691848093, -2.813714981), (5.369628039, -1.190417877))
            ThreePointArc((5.369628039, -1.190417877), (3.889087297, -3.889087297), (1.190417877, -5.369628039))
            Line((1.190417877, -5.369628039), (2.813714981, -12.691848093))
        make_face()
        with BuildLine():
            ThreePointArc((12.691848093, 2.813714981), (9.192388155, 9.192388155), (2.813714981, 12.691848093))
            Line((2.813714981, 12.691848093), (1.190417877, 5.369628039))
            ThreePointArc((1.190417877, 5.369628039), (3.889087297, 3.889087297), (5.369628039, 1.190417877))
            Line((5.369628039, 1.190417877), (12.691848093, 2.813714981))
        make_face()
        with Locations(Location((-13, 0, 0), (0, 0, 134.983865121))):
            Circle(SKETCH4_R)
        with Locations(Location((-10, 0, 0), (0, 0, 135.012139771))):
            Circle(SKETCH4_R)
        with Locations(Location((0, 10, 0), (0, 0, 270))):
            Circle(SKETCH4_R)
        with Locations(Location((0, 13, 0), (0, 0, 270))):
            Circle(SKETCH4_R)
        with Locations(Location((0, -10, 0), (0, 0, 135.918159621))):
            Circle(SKETCH4_R)
        with Locations(Location((0, -13, 0), (0, 0, 135.875962229))):
            Circle(SKETCH4_R)
        with Locations(Location((10, 0, 0), (0, 0, 270))):
            Circle(SKETCH4_R)
        with Locations(Location((13, 0, 0), (0, 0, 270))):
            Circle(SKETCH4_R)
    extrude(amount=-CUT_EXTRUDE2_DEPTH, mode=Mode.SUBTRACT)

    # Sketch5 → Boss-Extrude2 (add)
    with BuildSketch(Plane(origin=(0, 4, 0), x_dir=(1, 0, 0), z_dir=(0, 1, 0))):
        with BuildLine():
            ThreePointArc((-11.290112025, 9.875898463), (-10.606601718, 10.606601718), (-9.875898463, 11.290112025))
            Line((-9.875898463, 11.290112025), (-15, 15))
            Line((-15, 15), (-11.290112025, 9.875898463))
        make_face()
        with BuildLine():
            Line((15, 15), (9.875898463, 11.290112025))
            ThreePointArc((9.875898463, 11.290112025), (10.606601718, 10.606601718), (11.290112025, 9.875898463))
            Line((11.290112025, 9.875898463), (15, 15))
        make_face()
        with BuildLine():
            ThreePointArc((11.290112025, -9.875898463), (10.606601718, -10.606601718), (9.875898463, -11.290112025))
            Line((9.875898463, -11.290112025), (15, -15))
            Line((15, -15), (11.290112025, -9.875898463))
        make_face()
        with BuildLine():
            ThreePointArc((-9.875898463, -11.290112025), (-10.606601718, -10.606601718), (-11.290112025, -9.875898463))
            Line((-11.290112025, -9.875898463), (-15, -15))
            Line((-15, -15), (-9.875898463, -11.290112025))
        make_face()
    extrude(amount=-BOSS_EXTRUDE2_DEPTH)


solid = part.part
